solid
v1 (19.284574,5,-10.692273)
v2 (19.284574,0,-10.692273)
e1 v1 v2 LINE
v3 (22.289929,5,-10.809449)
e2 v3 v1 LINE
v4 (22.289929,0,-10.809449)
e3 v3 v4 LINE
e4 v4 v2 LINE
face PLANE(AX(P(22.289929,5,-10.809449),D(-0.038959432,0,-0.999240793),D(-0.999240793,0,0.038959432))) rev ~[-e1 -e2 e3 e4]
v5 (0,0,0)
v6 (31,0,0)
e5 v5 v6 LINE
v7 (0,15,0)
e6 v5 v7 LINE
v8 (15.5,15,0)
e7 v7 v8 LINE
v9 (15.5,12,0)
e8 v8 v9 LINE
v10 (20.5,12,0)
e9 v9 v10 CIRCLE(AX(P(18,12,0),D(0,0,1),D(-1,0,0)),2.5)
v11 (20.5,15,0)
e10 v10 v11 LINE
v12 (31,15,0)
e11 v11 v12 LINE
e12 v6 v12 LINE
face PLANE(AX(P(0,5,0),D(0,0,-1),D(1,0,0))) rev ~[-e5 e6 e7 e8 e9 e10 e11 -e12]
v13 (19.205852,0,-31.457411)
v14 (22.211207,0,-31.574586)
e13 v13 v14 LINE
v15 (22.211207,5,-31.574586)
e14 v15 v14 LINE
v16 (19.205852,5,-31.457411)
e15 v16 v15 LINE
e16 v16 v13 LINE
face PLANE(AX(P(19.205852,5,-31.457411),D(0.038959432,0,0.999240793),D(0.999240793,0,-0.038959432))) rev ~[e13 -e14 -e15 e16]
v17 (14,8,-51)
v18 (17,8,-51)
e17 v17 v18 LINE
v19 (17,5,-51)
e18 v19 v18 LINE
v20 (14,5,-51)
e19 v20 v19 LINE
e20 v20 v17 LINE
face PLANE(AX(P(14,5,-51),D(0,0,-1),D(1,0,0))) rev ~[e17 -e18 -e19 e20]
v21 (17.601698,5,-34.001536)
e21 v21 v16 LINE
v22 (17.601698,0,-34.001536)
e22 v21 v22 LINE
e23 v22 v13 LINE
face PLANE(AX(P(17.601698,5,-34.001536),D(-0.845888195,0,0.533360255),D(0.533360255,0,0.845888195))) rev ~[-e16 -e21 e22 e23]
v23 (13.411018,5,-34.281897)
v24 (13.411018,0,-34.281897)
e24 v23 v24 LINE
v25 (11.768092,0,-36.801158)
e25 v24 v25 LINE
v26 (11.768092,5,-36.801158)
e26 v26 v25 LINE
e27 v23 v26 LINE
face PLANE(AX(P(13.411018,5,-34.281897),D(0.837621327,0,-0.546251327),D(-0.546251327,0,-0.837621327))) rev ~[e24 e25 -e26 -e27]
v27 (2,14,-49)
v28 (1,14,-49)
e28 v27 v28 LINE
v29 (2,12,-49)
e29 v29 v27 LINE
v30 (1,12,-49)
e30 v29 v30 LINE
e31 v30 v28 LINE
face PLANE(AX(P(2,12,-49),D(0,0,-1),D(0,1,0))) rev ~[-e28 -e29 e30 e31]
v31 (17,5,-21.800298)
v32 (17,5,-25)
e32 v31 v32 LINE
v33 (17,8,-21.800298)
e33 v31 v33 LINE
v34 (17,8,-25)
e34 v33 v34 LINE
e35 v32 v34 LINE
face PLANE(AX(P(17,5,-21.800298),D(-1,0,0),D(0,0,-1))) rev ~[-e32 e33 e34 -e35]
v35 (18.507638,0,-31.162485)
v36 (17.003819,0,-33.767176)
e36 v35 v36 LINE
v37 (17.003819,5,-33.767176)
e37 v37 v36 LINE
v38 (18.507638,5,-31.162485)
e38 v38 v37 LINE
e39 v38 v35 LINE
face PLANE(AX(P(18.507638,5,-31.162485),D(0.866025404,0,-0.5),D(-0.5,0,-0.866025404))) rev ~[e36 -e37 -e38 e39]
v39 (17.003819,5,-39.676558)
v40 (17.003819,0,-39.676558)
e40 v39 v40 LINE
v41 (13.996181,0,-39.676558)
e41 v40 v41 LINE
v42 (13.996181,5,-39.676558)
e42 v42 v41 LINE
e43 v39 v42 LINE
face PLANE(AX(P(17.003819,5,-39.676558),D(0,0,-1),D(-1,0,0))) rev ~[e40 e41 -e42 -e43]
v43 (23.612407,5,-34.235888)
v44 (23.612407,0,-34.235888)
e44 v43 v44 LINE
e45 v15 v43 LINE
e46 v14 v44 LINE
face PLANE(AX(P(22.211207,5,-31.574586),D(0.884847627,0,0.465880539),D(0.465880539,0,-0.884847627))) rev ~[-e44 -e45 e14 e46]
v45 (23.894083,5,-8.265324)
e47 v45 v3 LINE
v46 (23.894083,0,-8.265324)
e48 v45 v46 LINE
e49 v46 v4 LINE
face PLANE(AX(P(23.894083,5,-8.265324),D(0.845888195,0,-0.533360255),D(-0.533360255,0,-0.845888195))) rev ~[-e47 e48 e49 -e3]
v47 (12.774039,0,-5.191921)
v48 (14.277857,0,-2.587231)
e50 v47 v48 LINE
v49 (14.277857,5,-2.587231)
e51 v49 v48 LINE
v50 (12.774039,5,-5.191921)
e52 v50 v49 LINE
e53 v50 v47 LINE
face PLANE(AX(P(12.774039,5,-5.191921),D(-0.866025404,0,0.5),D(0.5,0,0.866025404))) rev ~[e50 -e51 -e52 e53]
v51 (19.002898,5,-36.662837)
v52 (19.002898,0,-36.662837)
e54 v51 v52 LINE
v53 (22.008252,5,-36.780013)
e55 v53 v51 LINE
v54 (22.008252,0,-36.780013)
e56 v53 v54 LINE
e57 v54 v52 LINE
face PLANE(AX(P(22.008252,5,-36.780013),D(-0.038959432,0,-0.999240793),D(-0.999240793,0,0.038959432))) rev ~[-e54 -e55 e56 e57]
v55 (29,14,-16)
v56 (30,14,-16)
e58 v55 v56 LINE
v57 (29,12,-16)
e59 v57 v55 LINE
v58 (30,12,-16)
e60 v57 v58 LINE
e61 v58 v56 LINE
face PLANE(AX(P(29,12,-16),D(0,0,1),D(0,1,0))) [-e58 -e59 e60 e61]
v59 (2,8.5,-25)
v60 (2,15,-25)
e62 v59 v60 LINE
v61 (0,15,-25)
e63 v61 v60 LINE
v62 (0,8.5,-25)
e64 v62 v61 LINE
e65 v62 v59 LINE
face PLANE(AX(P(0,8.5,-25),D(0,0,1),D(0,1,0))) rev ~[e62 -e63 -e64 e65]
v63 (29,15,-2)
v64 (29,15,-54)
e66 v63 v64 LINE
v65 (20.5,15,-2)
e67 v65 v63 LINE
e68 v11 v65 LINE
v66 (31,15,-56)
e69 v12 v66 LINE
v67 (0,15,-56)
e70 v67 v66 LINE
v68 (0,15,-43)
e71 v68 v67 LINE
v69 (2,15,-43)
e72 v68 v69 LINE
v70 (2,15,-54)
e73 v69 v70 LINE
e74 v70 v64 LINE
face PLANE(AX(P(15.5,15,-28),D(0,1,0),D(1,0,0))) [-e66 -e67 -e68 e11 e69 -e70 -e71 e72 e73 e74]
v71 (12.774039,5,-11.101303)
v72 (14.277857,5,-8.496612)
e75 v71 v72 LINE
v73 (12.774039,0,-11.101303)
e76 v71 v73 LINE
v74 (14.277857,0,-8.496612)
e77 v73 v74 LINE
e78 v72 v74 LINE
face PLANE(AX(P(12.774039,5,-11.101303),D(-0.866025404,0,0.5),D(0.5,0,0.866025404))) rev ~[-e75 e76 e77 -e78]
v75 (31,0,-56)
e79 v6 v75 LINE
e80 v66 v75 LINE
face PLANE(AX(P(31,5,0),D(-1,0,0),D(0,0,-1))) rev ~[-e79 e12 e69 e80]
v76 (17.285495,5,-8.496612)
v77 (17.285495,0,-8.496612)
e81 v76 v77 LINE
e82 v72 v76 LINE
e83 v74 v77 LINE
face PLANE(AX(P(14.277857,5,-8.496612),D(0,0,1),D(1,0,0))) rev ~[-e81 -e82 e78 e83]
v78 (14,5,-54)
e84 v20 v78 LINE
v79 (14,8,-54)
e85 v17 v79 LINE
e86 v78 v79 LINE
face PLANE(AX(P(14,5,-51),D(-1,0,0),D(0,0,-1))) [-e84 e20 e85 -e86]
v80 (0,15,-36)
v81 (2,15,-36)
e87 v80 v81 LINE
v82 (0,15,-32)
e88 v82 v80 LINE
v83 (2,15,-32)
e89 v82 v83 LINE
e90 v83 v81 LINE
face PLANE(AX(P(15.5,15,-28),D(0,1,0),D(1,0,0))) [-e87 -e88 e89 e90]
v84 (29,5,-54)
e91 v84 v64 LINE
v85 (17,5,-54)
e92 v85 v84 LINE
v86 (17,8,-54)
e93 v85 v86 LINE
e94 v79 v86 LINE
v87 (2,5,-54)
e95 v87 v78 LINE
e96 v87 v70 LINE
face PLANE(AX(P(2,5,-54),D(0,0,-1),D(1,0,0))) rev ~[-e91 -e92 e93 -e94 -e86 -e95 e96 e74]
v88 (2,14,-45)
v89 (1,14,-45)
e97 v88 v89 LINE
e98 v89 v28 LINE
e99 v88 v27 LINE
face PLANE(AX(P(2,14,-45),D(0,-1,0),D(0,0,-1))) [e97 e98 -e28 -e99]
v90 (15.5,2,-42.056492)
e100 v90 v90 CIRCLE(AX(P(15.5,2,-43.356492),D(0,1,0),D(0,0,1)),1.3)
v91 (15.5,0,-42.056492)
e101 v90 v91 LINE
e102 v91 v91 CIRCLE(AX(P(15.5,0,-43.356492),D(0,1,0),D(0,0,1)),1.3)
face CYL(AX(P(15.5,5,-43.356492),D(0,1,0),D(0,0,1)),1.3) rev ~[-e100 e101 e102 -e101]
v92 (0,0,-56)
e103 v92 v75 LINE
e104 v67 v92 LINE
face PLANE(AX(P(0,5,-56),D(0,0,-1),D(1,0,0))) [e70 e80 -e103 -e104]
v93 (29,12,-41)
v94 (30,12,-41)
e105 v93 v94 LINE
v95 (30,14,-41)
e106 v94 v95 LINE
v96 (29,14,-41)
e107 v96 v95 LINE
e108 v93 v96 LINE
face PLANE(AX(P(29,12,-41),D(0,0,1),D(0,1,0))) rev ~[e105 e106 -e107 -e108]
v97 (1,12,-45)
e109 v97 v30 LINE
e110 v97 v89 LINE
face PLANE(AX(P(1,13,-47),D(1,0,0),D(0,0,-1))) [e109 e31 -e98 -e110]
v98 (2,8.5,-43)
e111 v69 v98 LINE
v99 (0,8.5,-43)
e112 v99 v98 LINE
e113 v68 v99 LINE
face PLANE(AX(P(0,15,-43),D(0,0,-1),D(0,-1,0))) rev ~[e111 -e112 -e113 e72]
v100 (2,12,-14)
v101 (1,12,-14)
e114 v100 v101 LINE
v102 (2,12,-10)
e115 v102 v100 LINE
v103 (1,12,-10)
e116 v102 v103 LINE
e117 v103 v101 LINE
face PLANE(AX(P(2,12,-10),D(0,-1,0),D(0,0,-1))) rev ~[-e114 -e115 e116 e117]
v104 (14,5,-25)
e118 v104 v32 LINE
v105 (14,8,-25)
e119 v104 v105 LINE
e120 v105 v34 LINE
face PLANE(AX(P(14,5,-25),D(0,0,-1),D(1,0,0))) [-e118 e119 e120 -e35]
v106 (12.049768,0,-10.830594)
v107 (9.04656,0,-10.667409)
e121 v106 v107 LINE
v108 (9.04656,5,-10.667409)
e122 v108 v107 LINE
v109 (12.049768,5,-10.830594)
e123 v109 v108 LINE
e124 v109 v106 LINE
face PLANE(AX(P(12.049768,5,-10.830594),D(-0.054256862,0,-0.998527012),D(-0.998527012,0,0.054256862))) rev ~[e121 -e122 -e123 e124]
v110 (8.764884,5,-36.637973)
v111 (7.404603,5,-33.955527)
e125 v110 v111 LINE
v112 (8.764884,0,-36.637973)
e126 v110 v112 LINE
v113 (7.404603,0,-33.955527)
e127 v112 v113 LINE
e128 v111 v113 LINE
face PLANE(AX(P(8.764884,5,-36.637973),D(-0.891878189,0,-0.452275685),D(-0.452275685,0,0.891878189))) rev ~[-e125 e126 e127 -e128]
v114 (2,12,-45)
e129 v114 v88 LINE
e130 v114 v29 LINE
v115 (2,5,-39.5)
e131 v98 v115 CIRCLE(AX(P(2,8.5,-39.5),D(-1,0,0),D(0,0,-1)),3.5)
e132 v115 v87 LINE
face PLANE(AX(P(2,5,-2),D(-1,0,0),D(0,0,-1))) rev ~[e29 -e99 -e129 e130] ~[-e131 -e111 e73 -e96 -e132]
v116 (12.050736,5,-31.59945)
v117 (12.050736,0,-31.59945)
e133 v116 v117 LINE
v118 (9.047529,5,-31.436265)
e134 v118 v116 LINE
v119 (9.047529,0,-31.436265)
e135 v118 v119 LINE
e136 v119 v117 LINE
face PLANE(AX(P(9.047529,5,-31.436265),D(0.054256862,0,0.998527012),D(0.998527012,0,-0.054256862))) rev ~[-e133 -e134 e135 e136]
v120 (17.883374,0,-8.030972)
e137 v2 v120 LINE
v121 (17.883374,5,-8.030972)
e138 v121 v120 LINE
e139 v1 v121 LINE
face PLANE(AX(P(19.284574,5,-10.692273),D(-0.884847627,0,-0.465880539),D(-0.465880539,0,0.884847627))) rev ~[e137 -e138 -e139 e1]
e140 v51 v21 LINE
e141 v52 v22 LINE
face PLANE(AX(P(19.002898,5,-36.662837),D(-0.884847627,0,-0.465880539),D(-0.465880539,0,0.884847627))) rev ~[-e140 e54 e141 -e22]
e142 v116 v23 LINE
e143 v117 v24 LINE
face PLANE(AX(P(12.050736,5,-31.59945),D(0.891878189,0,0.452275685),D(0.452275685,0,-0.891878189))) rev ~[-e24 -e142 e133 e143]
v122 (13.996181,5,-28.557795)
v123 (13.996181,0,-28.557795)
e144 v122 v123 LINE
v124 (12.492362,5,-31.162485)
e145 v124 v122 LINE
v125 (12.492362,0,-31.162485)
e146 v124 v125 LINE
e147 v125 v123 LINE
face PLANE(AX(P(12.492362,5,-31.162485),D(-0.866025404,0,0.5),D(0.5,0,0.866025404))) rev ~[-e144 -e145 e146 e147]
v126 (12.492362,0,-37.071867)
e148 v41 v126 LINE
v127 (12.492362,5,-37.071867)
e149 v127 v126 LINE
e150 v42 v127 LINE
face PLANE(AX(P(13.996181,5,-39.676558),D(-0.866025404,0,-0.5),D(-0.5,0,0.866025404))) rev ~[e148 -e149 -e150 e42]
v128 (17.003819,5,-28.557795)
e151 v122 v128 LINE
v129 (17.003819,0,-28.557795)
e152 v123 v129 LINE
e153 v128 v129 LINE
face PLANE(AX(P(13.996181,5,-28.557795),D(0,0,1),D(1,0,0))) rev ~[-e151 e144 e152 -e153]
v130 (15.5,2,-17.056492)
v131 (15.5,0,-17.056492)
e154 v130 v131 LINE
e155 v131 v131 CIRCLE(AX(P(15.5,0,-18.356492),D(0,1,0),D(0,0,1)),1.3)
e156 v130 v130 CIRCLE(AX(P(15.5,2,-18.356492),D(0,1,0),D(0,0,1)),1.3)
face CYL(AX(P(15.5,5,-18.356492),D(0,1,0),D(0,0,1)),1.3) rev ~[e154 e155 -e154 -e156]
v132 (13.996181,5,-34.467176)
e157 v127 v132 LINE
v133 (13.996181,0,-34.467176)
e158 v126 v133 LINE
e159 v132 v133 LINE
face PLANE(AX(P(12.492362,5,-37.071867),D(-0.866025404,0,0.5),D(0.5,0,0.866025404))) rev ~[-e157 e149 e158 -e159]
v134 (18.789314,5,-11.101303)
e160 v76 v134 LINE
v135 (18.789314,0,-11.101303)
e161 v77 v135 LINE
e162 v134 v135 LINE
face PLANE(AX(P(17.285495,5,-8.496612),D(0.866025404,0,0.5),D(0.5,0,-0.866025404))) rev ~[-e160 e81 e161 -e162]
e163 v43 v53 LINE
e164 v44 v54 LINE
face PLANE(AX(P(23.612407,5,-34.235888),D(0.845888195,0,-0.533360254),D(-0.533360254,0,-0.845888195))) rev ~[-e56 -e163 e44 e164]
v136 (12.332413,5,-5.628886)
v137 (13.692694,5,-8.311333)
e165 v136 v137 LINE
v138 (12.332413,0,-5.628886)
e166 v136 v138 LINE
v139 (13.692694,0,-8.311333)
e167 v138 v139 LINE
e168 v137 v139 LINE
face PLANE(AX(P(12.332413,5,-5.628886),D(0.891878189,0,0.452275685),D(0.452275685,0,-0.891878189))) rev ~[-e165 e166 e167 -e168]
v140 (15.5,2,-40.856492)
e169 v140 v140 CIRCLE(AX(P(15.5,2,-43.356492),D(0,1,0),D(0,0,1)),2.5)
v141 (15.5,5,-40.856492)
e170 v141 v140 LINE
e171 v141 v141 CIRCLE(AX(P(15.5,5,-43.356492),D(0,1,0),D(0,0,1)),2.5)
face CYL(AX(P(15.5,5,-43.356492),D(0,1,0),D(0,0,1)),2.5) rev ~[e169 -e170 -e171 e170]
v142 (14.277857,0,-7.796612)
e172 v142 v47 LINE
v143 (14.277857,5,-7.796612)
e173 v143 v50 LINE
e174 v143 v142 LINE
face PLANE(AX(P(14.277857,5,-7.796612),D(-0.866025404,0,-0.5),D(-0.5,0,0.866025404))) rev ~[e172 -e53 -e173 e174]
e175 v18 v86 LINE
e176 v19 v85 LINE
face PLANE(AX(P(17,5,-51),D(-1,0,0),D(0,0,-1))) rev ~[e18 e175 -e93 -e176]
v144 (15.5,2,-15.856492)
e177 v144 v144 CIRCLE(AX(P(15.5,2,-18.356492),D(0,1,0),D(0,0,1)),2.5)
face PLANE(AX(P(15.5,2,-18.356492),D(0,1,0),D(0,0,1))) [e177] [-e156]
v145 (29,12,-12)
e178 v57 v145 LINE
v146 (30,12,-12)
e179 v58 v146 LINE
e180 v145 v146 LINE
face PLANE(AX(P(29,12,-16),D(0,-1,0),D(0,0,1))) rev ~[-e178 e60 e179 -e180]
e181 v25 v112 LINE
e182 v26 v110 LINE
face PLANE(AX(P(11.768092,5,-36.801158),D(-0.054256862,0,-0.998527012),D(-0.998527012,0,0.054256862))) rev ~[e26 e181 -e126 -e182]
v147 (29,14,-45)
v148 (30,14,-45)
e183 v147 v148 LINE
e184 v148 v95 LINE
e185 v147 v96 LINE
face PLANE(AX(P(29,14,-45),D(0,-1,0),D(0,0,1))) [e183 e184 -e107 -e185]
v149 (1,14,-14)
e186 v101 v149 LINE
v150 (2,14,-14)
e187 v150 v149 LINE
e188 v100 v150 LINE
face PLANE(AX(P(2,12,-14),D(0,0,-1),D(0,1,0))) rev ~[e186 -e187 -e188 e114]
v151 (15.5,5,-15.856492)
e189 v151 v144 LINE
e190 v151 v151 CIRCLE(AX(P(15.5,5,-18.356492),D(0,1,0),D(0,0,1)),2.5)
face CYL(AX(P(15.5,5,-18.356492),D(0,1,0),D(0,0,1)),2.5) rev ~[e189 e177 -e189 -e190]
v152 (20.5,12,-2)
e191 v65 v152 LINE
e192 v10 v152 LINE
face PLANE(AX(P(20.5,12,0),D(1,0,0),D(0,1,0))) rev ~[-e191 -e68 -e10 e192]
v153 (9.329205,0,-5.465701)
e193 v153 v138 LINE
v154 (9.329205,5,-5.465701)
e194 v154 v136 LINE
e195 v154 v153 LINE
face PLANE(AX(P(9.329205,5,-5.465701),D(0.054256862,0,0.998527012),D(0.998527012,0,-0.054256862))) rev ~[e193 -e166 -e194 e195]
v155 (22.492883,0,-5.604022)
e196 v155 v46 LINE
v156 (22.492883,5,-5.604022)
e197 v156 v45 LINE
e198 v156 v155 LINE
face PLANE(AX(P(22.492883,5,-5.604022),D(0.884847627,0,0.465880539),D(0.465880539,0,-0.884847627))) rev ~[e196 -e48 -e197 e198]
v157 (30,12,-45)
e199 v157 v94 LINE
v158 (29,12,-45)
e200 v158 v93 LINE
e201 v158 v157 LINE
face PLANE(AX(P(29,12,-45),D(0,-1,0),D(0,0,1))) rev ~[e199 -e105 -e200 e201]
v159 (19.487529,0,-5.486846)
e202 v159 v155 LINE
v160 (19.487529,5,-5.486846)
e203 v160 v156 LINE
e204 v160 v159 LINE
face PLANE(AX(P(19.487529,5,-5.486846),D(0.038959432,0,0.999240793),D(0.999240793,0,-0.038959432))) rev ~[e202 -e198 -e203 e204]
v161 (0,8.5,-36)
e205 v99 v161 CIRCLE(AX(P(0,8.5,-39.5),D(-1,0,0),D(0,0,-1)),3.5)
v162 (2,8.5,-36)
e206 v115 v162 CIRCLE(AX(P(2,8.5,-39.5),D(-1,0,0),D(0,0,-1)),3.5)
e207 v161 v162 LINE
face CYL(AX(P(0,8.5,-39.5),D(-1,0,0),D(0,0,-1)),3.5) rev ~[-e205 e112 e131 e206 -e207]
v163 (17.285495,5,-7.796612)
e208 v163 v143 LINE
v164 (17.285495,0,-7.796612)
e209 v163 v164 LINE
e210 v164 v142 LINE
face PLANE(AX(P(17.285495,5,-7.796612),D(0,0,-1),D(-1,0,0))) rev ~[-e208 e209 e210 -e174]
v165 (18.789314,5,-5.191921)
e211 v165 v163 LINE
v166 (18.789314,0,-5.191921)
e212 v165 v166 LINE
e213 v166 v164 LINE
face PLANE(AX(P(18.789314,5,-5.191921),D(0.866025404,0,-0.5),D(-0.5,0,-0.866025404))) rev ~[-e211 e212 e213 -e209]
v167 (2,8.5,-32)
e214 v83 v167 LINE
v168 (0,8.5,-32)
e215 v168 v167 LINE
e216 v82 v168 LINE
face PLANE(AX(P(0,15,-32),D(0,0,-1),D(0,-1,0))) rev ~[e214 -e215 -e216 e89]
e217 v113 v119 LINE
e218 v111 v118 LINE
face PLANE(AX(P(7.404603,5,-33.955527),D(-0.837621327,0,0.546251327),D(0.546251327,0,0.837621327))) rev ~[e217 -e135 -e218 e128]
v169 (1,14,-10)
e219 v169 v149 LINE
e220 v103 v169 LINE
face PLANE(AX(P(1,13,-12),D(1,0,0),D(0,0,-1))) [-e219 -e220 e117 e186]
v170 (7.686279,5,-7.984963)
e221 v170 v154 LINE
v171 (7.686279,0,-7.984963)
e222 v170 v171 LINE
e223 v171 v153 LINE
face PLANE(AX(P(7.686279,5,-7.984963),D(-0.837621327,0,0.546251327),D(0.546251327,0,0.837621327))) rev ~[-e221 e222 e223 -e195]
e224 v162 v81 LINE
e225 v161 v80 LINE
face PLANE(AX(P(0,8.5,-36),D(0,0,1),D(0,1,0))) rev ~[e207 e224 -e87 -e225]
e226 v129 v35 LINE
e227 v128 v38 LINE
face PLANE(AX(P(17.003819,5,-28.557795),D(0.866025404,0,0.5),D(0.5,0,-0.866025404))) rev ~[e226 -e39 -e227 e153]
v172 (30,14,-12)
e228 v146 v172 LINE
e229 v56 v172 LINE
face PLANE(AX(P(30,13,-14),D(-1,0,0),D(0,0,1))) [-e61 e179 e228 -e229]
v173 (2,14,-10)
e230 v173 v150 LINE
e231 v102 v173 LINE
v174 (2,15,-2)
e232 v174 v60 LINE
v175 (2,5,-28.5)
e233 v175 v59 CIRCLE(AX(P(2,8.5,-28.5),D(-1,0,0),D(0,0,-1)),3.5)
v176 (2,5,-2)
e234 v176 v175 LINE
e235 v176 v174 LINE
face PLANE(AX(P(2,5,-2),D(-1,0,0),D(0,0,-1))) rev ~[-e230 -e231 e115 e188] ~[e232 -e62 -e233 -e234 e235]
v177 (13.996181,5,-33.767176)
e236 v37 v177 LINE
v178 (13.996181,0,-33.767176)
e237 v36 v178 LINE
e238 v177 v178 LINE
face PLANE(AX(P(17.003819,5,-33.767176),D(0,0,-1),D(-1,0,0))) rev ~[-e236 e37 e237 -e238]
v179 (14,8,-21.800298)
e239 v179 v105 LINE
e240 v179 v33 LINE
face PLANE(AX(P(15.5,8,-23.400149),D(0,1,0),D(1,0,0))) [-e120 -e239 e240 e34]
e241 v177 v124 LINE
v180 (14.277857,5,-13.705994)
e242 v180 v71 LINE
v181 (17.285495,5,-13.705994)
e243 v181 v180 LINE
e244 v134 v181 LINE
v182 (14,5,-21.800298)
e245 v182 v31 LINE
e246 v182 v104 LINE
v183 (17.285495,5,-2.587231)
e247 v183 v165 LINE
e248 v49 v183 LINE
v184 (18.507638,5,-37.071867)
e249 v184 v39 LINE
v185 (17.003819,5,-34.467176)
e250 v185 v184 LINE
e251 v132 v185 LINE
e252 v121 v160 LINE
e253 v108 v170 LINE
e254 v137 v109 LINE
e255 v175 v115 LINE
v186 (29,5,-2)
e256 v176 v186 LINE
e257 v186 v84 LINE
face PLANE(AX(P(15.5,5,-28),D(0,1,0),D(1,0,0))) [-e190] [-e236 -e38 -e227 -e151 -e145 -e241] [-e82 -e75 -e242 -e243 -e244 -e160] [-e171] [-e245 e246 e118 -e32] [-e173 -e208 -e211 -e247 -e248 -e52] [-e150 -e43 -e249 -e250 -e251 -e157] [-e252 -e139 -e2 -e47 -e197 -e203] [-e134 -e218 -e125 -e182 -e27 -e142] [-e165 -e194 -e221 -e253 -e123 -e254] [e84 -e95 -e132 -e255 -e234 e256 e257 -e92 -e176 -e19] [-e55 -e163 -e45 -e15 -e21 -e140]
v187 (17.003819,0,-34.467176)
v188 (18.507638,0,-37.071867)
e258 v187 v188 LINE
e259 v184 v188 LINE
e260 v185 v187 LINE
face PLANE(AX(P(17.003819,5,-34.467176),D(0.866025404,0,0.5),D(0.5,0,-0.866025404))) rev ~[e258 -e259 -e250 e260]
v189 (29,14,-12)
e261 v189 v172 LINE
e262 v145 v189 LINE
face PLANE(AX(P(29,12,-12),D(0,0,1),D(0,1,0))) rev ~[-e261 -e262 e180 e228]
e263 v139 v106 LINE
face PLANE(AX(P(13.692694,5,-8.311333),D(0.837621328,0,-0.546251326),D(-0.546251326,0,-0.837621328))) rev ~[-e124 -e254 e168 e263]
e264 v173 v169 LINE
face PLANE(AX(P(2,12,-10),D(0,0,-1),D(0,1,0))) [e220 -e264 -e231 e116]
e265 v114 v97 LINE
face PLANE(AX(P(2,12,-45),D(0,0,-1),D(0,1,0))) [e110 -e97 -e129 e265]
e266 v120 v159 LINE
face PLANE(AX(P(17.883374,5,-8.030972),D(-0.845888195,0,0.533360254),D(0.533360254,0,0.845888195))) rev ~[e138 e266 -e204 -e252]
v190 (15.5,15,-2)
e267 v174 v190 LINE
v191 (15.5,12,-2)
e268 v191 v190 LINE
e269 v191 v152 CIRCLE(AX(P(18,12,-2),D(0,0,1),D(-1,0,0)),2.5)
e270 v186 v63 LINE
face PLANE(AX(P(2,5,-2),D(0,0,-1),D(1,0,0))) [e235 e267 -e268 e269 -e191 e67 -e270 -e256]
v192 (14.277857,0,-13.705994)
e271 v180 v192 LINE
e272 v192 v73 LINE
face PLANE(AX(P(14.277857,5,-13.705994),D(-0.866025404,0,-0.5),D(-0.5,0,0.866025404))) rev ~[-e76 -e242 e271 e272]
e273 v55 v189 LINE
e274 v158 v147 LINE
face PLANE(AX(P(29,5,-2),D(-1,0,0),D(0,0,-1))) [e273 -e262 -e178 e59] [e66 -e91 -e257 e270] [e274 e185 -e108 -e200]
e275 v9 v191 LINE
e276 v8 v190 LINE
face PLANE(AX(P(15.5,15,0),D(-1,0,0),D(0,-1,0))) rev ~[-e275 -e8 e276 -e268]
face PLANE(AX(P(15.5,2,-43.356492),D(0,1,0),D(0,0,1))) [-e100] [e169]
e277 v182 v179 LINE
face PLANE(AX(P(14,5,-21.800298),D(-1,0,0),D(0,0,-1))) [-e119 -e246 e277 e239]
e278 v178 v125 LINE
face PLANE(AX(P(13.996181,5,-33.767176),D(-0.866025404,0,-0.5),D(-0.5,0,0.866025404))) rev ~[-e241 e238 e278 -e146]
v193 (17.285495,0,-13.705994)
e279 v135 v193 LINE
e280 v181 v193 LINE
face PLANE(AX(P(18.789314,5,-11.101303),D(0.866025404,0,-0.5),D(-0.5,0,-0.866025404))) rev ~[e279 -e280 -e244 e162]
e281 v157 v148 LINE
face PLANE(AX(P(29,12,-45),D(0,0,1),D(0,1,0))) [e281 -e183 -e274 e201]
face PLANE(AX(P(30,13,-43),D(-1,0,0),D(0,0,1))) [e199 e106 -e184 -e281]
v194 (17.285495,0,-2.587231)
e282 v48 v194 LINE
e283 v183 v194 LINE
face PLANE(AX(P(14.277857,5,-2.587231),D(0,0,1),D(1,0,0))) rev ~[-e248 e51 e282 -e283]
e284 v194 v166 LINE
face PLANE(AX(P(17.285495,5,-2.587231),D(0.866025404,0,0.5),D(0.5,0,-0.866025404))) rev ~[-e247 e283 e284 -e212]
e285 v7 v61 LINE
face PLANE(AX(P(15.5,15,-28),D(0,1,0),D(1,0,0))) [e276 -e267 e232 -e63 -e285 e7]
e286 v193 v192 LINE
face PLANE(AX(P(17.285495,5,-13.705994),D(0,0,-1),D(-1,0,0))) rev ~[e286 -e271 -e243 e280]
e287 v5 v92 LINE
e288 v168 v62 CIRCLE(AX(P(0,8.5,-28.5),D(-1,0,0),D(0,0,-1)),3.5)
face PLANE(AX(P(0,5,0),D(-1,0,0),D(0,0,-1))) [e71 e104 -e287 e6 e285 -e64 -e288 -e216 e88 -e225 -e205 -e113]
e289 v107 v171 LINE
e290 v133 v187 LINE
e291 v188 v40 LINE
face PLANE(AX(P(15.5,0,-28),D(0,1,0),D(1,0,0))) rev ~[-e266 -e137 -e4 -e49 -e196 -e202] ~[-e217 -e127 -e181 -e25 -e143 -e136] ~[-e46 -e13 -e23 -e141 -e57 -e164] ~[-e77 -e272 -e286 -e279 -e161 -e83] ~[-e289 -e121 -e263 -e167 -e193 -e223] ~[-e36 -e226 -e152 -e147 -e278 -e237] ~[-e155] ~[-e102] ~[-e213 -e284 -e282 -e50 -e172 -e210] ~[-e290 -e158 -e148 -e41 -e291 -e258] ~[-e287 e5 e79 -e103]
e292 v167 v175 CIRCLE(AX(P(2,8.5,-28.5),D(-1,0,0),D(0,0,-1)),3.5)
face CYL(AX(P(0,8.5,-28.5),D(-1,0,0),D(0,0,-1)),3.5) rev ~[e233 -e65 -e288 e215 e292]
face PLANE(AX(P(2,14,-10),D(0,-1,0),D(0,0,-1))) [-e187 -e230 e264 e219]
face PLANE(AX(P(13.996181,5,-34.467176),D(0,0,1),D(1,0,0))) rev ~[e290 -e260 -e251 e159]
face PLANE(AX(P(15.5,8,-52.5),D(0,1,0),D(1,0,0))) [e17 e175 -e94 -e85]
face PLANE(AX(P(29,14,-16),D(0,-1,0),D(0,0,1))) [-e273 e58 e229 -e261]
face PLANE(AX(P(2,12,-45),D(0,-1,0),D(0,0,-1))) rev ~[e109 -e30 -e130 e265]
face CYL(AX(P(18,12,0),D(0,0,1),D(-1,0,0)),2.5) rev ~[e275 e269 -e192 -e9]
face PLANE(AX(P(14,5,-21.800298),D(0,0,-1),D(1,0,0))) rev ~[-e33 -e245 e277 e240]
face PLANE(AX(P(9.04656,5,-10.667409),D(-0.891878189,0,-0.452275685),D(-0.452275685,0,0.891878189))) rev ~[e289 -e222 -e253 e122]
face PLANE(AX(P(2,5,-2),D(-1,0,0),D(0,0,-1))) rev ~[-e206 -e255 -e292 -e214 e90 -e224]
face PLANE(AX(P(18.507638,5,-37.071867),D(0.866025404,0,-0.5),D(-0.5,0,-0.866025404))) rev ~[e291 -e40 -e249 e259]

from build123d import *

# Parameters (mm, degrees)
ESQUISSE1_W             = 31
ESQUISSE1_H             = 56
BOSS_EXTRU_1_DEPTH      = 5
ESQUISSE2_R             = 1.3
ENL_V_MAT_EXTRU_1_DEPTH = 65.202803677
ESQUISSE4_R             = 2.5
ENL_V_MAT_EXTRU_2_DEPTH = 3
ESQUISSE5_W             = 3
ESQUISSE5_H             = 3
ESQUISSE5_H_2           = 3.199702253
BOSS_EXTRU_2_DEPTH      = 3
ESQUISSE6_W             = 31
ESQUISSE6_H             = 56
ESQUISSE6_W_2           = 27
ESQUISSE6_H_2           = 52
BOSS_EXTRU_3_DEPTH      = 10
ENL_V_MAT_EXTRU_3_DEPTH = 10
ENL_V_MAT_EXTRU_4_DEPTH = 10
ESQUISSE10_W            = 4
ESQUISSE10_H            = 2
ENL_V_MAT_EXTRU_5_DEPTH = 1
ESQUISSE11_W            = 4
ESQUISSE11_H            = 2
ENL_V_MAT_EXTRU_6_DEPTH = 1


with BuildPart() as part:
    # Esquisse1 → Boss.-Extru.1 (new body)
    with BuildSketch(Plane(origin=(0, 0, 0), x_dir=(1, 0, 0), z_dir=(0, 1, 0))):
        with Locations((15.5, 28)):
            Rectangle(ESQUISSE1_W, ESQUISSE1_H)
    extrude(amount=BOSS_EXTRU_1_DEPTH)

    # Esquisse2 → Enlèv. mat.-Extru.1 (cut, through all)
    with BuildSketch(Plane(origin=(0, 5, 0), x_dir=(1, 0, 0), z_dir=(0, 1, 0))):
        with Locations(Location((15.5, 43.356492458, 0), (0, 0, 270))):
            Circle(ESQUISSE2_R)
        with Locations(Location((15.5, 18.356492458, 0), (0, 0, 270))):
            Circle(ESQUISSE2_R)
        Polygon((13.411017957, 34.281896818), (11.768091764, 36.801158467), (8.764884081, 36.637973473), (7.40460259, 33.955526829), (9.047528783, 31.43626518), (12.050736466, 31.599450174), align=None)
        Polygon((18.507637899, 37.071867086), (17.003818949, 39.676557912), (13.996181051, 39.676557912), (12.492362101, 37.071867086), (13.996181051, 34.46717626), (17.003818949, 34.46717626), align=None)
        Polygon((18.507637899, 31.162485434), (17.003818949, 33.76717626), (13.996181051, 33.76717626), (12.492362101, 31.162485434), (13.996181051, 28.557794609), (17.003818949, 28.557794609), align=None)
        Polygon((23.612406723, 34.235887688), (22.008252208, 36.780013083), (19.002897728, 36.662837218), (17.601697764, 34.001535959), (19.205852279, 31.457410565), (22.211206759, 31.574586429), align=None)
        Polygon((13.692694357, 8.311332727), (12.049768165, 10.830594377), (9.046560481, 10.667409382), (7.68627899, 7.984962739), (9.329205183, 5.465701089), (12.332412866, 5.628886084), align=None)
        Polygon((18.789314299, 11.101302996), (17.28549535, 13.705993821), (14.277857451, 13.705993821), (12.774038501, 11.101302996), (14.277857451, 8.49661217), (17.28549535, 8.49661217), align=None)
        Polygon((18.789314299, 5.191921344), (17.28549535, 7.79661217), (14.277857451, 7.79661217), (12.774038501, 5.191921344), (14.277857451, 2.587230518), (17.28549535, 2.587230518), align=None)
        Polygon((23.894083123, 8.265323598), (22.289928608, 10.809448992), (19.284574129, 10.692273128), (17.883374164, 8.030971869), (19.487528679, 5.486846474), (22.492883159, 5.604022339), align=None)
    extrude(amount=-ENL_V_MAT_EXTRU_1_DEPTH, mode=Mode.SUBTRACT)

    # Esquisse4 → Enlèv. mat.-Extru.2 (cut)
    with BuildSketch(Plane(origin=(0, 5, 0), x_dir=(1, 0, 0), z_dir=(0, 1, 0))):
        with Locations(Location((15.5, 43.356492458, 0), (0, 0, 270))):
            Circle(ESQUISSE4_R)
        with Locations(Location((15.5, 18.356492458, 0), (0, 0, 270))):
            Circle(ESQUISSE4_R)
    extrude(amount=-ENL_V_MAT_EXTRU_2_DEPTH, mode=Mode.SUBTRACT)

    # Esquisse5 → Boss.-Extru.2 (add)
    with BuildSketch(Plane(origin=(0, 5, 0), x_dir=(1, 0, 0), z_dir=(0, 1, 0))):
        with Locations((15.5, 52.5)):
            Rectangle(ESQUISSE5_W, ESQUISSE5_H)
        with Locations((15.5, 23.400148874)):
            Rectangle(ESQUISSE5_W, ESQUISSE5_H_2)
    extrude(amount=BOSS_EXTRU_2_DEPTH)

    # Esquisse6 → Boss.-Extru.3 (add)
    with BuildSketch(Plane(origin=(0, 5, 0), x_dir=(1, 0, 0), z_dir=(0, 1, 0))):
        with Locations((15.5, 28)):
            Rectangle(ESQUISSE6_W, ESQUISSE6_H)
        with Locations((15.5, 28)):
            Rectangle(ESQUISSE6_W_2, ESQUISSE6_H_2, mode=Mode.SUBTRACT)
    extrude(amount=BOSS_EXTRU_3_DEPTH)

    # Esquisse8 → Enlèv. mat.-Extru.3 (cut)
    with BuildSketch(Plane.ZY):
        with BuildLine():
            Line((-43, 15), (-43, 8.5))
            ThreePointArc((-43, 8.5), (-39.5, 5), (-36, 8.5))
            Line((-36, 8.5), (-36, 15))
            Line((-36, 15), (-43, 15))
        make_face()
        with BuildLine():
            Line((-32, 15), (-32, 8.5))
            ThreePointArc((-32, 8.5), (-28.5, 5), (-25, 8.5))
            Line((-25, 8.5), (-25, 15))
            Line((-25, 15), (-32, 15))
        make_face()
    extrude(amount=-ENL_V_MAT_EXTRU_3_DEPTH, mode=Mode.SUBTRACT)

    # Esquisse9 → Enlèv. mat.-Extru.4 (cut)
    with BuildSketch(Plane.XY):
        with BuildLine():
            Line((15.5, 15), (15.5, 12))
            ThreePointArc((15.5, 12), (18, 9.5), (20.5, 12))
            Line((20.5, 12), (20.5, 15))
            Line((20.5, 15), (15.5, 15))
        make_face()
    extrude(amount=-ENL_V_MAT_EXTRU_4_DEPTH, mode=Mode.SUBTRACT)

    # Esquisse10 → Enlèv. mat.-Extru.5 (cut)
    with BuildSketch(Plane.ZY.offset(-29)):
        with Locations((-43, 13)):
            Rectangle(ESQUISSE10_W, ESQUISSE10_H)
        with Locations((-14, 13)):
            Rectangle(ESQUISSE10_W, ESQUISSE10_H)
    extrude(amount=-ENL_V_MAT_EXTRU_5_DEPTH, mode=Mode.SUBTRACT)

    # Esquisse11 → Enlèv. mat.-Extru.6 (cut)
    with BuildSketch(Plane(origin=(2, 0, 0), x_dir=(0, 0, -1), z_dir=(1, 0, 0))):
        with Locations((12, 13)):
            Rectangle(ESQUISSE11_W, ESQUISSE11_H)
        with Locations((47, 13)):
            Rectangle(ESQUISSE11_W, ESQUISSE11_H)
    extrude(amount=-ENL_V_MAT_EXTRU_6_DEPTH, mode=Mode.SUBTRACT)


solid = part.part
